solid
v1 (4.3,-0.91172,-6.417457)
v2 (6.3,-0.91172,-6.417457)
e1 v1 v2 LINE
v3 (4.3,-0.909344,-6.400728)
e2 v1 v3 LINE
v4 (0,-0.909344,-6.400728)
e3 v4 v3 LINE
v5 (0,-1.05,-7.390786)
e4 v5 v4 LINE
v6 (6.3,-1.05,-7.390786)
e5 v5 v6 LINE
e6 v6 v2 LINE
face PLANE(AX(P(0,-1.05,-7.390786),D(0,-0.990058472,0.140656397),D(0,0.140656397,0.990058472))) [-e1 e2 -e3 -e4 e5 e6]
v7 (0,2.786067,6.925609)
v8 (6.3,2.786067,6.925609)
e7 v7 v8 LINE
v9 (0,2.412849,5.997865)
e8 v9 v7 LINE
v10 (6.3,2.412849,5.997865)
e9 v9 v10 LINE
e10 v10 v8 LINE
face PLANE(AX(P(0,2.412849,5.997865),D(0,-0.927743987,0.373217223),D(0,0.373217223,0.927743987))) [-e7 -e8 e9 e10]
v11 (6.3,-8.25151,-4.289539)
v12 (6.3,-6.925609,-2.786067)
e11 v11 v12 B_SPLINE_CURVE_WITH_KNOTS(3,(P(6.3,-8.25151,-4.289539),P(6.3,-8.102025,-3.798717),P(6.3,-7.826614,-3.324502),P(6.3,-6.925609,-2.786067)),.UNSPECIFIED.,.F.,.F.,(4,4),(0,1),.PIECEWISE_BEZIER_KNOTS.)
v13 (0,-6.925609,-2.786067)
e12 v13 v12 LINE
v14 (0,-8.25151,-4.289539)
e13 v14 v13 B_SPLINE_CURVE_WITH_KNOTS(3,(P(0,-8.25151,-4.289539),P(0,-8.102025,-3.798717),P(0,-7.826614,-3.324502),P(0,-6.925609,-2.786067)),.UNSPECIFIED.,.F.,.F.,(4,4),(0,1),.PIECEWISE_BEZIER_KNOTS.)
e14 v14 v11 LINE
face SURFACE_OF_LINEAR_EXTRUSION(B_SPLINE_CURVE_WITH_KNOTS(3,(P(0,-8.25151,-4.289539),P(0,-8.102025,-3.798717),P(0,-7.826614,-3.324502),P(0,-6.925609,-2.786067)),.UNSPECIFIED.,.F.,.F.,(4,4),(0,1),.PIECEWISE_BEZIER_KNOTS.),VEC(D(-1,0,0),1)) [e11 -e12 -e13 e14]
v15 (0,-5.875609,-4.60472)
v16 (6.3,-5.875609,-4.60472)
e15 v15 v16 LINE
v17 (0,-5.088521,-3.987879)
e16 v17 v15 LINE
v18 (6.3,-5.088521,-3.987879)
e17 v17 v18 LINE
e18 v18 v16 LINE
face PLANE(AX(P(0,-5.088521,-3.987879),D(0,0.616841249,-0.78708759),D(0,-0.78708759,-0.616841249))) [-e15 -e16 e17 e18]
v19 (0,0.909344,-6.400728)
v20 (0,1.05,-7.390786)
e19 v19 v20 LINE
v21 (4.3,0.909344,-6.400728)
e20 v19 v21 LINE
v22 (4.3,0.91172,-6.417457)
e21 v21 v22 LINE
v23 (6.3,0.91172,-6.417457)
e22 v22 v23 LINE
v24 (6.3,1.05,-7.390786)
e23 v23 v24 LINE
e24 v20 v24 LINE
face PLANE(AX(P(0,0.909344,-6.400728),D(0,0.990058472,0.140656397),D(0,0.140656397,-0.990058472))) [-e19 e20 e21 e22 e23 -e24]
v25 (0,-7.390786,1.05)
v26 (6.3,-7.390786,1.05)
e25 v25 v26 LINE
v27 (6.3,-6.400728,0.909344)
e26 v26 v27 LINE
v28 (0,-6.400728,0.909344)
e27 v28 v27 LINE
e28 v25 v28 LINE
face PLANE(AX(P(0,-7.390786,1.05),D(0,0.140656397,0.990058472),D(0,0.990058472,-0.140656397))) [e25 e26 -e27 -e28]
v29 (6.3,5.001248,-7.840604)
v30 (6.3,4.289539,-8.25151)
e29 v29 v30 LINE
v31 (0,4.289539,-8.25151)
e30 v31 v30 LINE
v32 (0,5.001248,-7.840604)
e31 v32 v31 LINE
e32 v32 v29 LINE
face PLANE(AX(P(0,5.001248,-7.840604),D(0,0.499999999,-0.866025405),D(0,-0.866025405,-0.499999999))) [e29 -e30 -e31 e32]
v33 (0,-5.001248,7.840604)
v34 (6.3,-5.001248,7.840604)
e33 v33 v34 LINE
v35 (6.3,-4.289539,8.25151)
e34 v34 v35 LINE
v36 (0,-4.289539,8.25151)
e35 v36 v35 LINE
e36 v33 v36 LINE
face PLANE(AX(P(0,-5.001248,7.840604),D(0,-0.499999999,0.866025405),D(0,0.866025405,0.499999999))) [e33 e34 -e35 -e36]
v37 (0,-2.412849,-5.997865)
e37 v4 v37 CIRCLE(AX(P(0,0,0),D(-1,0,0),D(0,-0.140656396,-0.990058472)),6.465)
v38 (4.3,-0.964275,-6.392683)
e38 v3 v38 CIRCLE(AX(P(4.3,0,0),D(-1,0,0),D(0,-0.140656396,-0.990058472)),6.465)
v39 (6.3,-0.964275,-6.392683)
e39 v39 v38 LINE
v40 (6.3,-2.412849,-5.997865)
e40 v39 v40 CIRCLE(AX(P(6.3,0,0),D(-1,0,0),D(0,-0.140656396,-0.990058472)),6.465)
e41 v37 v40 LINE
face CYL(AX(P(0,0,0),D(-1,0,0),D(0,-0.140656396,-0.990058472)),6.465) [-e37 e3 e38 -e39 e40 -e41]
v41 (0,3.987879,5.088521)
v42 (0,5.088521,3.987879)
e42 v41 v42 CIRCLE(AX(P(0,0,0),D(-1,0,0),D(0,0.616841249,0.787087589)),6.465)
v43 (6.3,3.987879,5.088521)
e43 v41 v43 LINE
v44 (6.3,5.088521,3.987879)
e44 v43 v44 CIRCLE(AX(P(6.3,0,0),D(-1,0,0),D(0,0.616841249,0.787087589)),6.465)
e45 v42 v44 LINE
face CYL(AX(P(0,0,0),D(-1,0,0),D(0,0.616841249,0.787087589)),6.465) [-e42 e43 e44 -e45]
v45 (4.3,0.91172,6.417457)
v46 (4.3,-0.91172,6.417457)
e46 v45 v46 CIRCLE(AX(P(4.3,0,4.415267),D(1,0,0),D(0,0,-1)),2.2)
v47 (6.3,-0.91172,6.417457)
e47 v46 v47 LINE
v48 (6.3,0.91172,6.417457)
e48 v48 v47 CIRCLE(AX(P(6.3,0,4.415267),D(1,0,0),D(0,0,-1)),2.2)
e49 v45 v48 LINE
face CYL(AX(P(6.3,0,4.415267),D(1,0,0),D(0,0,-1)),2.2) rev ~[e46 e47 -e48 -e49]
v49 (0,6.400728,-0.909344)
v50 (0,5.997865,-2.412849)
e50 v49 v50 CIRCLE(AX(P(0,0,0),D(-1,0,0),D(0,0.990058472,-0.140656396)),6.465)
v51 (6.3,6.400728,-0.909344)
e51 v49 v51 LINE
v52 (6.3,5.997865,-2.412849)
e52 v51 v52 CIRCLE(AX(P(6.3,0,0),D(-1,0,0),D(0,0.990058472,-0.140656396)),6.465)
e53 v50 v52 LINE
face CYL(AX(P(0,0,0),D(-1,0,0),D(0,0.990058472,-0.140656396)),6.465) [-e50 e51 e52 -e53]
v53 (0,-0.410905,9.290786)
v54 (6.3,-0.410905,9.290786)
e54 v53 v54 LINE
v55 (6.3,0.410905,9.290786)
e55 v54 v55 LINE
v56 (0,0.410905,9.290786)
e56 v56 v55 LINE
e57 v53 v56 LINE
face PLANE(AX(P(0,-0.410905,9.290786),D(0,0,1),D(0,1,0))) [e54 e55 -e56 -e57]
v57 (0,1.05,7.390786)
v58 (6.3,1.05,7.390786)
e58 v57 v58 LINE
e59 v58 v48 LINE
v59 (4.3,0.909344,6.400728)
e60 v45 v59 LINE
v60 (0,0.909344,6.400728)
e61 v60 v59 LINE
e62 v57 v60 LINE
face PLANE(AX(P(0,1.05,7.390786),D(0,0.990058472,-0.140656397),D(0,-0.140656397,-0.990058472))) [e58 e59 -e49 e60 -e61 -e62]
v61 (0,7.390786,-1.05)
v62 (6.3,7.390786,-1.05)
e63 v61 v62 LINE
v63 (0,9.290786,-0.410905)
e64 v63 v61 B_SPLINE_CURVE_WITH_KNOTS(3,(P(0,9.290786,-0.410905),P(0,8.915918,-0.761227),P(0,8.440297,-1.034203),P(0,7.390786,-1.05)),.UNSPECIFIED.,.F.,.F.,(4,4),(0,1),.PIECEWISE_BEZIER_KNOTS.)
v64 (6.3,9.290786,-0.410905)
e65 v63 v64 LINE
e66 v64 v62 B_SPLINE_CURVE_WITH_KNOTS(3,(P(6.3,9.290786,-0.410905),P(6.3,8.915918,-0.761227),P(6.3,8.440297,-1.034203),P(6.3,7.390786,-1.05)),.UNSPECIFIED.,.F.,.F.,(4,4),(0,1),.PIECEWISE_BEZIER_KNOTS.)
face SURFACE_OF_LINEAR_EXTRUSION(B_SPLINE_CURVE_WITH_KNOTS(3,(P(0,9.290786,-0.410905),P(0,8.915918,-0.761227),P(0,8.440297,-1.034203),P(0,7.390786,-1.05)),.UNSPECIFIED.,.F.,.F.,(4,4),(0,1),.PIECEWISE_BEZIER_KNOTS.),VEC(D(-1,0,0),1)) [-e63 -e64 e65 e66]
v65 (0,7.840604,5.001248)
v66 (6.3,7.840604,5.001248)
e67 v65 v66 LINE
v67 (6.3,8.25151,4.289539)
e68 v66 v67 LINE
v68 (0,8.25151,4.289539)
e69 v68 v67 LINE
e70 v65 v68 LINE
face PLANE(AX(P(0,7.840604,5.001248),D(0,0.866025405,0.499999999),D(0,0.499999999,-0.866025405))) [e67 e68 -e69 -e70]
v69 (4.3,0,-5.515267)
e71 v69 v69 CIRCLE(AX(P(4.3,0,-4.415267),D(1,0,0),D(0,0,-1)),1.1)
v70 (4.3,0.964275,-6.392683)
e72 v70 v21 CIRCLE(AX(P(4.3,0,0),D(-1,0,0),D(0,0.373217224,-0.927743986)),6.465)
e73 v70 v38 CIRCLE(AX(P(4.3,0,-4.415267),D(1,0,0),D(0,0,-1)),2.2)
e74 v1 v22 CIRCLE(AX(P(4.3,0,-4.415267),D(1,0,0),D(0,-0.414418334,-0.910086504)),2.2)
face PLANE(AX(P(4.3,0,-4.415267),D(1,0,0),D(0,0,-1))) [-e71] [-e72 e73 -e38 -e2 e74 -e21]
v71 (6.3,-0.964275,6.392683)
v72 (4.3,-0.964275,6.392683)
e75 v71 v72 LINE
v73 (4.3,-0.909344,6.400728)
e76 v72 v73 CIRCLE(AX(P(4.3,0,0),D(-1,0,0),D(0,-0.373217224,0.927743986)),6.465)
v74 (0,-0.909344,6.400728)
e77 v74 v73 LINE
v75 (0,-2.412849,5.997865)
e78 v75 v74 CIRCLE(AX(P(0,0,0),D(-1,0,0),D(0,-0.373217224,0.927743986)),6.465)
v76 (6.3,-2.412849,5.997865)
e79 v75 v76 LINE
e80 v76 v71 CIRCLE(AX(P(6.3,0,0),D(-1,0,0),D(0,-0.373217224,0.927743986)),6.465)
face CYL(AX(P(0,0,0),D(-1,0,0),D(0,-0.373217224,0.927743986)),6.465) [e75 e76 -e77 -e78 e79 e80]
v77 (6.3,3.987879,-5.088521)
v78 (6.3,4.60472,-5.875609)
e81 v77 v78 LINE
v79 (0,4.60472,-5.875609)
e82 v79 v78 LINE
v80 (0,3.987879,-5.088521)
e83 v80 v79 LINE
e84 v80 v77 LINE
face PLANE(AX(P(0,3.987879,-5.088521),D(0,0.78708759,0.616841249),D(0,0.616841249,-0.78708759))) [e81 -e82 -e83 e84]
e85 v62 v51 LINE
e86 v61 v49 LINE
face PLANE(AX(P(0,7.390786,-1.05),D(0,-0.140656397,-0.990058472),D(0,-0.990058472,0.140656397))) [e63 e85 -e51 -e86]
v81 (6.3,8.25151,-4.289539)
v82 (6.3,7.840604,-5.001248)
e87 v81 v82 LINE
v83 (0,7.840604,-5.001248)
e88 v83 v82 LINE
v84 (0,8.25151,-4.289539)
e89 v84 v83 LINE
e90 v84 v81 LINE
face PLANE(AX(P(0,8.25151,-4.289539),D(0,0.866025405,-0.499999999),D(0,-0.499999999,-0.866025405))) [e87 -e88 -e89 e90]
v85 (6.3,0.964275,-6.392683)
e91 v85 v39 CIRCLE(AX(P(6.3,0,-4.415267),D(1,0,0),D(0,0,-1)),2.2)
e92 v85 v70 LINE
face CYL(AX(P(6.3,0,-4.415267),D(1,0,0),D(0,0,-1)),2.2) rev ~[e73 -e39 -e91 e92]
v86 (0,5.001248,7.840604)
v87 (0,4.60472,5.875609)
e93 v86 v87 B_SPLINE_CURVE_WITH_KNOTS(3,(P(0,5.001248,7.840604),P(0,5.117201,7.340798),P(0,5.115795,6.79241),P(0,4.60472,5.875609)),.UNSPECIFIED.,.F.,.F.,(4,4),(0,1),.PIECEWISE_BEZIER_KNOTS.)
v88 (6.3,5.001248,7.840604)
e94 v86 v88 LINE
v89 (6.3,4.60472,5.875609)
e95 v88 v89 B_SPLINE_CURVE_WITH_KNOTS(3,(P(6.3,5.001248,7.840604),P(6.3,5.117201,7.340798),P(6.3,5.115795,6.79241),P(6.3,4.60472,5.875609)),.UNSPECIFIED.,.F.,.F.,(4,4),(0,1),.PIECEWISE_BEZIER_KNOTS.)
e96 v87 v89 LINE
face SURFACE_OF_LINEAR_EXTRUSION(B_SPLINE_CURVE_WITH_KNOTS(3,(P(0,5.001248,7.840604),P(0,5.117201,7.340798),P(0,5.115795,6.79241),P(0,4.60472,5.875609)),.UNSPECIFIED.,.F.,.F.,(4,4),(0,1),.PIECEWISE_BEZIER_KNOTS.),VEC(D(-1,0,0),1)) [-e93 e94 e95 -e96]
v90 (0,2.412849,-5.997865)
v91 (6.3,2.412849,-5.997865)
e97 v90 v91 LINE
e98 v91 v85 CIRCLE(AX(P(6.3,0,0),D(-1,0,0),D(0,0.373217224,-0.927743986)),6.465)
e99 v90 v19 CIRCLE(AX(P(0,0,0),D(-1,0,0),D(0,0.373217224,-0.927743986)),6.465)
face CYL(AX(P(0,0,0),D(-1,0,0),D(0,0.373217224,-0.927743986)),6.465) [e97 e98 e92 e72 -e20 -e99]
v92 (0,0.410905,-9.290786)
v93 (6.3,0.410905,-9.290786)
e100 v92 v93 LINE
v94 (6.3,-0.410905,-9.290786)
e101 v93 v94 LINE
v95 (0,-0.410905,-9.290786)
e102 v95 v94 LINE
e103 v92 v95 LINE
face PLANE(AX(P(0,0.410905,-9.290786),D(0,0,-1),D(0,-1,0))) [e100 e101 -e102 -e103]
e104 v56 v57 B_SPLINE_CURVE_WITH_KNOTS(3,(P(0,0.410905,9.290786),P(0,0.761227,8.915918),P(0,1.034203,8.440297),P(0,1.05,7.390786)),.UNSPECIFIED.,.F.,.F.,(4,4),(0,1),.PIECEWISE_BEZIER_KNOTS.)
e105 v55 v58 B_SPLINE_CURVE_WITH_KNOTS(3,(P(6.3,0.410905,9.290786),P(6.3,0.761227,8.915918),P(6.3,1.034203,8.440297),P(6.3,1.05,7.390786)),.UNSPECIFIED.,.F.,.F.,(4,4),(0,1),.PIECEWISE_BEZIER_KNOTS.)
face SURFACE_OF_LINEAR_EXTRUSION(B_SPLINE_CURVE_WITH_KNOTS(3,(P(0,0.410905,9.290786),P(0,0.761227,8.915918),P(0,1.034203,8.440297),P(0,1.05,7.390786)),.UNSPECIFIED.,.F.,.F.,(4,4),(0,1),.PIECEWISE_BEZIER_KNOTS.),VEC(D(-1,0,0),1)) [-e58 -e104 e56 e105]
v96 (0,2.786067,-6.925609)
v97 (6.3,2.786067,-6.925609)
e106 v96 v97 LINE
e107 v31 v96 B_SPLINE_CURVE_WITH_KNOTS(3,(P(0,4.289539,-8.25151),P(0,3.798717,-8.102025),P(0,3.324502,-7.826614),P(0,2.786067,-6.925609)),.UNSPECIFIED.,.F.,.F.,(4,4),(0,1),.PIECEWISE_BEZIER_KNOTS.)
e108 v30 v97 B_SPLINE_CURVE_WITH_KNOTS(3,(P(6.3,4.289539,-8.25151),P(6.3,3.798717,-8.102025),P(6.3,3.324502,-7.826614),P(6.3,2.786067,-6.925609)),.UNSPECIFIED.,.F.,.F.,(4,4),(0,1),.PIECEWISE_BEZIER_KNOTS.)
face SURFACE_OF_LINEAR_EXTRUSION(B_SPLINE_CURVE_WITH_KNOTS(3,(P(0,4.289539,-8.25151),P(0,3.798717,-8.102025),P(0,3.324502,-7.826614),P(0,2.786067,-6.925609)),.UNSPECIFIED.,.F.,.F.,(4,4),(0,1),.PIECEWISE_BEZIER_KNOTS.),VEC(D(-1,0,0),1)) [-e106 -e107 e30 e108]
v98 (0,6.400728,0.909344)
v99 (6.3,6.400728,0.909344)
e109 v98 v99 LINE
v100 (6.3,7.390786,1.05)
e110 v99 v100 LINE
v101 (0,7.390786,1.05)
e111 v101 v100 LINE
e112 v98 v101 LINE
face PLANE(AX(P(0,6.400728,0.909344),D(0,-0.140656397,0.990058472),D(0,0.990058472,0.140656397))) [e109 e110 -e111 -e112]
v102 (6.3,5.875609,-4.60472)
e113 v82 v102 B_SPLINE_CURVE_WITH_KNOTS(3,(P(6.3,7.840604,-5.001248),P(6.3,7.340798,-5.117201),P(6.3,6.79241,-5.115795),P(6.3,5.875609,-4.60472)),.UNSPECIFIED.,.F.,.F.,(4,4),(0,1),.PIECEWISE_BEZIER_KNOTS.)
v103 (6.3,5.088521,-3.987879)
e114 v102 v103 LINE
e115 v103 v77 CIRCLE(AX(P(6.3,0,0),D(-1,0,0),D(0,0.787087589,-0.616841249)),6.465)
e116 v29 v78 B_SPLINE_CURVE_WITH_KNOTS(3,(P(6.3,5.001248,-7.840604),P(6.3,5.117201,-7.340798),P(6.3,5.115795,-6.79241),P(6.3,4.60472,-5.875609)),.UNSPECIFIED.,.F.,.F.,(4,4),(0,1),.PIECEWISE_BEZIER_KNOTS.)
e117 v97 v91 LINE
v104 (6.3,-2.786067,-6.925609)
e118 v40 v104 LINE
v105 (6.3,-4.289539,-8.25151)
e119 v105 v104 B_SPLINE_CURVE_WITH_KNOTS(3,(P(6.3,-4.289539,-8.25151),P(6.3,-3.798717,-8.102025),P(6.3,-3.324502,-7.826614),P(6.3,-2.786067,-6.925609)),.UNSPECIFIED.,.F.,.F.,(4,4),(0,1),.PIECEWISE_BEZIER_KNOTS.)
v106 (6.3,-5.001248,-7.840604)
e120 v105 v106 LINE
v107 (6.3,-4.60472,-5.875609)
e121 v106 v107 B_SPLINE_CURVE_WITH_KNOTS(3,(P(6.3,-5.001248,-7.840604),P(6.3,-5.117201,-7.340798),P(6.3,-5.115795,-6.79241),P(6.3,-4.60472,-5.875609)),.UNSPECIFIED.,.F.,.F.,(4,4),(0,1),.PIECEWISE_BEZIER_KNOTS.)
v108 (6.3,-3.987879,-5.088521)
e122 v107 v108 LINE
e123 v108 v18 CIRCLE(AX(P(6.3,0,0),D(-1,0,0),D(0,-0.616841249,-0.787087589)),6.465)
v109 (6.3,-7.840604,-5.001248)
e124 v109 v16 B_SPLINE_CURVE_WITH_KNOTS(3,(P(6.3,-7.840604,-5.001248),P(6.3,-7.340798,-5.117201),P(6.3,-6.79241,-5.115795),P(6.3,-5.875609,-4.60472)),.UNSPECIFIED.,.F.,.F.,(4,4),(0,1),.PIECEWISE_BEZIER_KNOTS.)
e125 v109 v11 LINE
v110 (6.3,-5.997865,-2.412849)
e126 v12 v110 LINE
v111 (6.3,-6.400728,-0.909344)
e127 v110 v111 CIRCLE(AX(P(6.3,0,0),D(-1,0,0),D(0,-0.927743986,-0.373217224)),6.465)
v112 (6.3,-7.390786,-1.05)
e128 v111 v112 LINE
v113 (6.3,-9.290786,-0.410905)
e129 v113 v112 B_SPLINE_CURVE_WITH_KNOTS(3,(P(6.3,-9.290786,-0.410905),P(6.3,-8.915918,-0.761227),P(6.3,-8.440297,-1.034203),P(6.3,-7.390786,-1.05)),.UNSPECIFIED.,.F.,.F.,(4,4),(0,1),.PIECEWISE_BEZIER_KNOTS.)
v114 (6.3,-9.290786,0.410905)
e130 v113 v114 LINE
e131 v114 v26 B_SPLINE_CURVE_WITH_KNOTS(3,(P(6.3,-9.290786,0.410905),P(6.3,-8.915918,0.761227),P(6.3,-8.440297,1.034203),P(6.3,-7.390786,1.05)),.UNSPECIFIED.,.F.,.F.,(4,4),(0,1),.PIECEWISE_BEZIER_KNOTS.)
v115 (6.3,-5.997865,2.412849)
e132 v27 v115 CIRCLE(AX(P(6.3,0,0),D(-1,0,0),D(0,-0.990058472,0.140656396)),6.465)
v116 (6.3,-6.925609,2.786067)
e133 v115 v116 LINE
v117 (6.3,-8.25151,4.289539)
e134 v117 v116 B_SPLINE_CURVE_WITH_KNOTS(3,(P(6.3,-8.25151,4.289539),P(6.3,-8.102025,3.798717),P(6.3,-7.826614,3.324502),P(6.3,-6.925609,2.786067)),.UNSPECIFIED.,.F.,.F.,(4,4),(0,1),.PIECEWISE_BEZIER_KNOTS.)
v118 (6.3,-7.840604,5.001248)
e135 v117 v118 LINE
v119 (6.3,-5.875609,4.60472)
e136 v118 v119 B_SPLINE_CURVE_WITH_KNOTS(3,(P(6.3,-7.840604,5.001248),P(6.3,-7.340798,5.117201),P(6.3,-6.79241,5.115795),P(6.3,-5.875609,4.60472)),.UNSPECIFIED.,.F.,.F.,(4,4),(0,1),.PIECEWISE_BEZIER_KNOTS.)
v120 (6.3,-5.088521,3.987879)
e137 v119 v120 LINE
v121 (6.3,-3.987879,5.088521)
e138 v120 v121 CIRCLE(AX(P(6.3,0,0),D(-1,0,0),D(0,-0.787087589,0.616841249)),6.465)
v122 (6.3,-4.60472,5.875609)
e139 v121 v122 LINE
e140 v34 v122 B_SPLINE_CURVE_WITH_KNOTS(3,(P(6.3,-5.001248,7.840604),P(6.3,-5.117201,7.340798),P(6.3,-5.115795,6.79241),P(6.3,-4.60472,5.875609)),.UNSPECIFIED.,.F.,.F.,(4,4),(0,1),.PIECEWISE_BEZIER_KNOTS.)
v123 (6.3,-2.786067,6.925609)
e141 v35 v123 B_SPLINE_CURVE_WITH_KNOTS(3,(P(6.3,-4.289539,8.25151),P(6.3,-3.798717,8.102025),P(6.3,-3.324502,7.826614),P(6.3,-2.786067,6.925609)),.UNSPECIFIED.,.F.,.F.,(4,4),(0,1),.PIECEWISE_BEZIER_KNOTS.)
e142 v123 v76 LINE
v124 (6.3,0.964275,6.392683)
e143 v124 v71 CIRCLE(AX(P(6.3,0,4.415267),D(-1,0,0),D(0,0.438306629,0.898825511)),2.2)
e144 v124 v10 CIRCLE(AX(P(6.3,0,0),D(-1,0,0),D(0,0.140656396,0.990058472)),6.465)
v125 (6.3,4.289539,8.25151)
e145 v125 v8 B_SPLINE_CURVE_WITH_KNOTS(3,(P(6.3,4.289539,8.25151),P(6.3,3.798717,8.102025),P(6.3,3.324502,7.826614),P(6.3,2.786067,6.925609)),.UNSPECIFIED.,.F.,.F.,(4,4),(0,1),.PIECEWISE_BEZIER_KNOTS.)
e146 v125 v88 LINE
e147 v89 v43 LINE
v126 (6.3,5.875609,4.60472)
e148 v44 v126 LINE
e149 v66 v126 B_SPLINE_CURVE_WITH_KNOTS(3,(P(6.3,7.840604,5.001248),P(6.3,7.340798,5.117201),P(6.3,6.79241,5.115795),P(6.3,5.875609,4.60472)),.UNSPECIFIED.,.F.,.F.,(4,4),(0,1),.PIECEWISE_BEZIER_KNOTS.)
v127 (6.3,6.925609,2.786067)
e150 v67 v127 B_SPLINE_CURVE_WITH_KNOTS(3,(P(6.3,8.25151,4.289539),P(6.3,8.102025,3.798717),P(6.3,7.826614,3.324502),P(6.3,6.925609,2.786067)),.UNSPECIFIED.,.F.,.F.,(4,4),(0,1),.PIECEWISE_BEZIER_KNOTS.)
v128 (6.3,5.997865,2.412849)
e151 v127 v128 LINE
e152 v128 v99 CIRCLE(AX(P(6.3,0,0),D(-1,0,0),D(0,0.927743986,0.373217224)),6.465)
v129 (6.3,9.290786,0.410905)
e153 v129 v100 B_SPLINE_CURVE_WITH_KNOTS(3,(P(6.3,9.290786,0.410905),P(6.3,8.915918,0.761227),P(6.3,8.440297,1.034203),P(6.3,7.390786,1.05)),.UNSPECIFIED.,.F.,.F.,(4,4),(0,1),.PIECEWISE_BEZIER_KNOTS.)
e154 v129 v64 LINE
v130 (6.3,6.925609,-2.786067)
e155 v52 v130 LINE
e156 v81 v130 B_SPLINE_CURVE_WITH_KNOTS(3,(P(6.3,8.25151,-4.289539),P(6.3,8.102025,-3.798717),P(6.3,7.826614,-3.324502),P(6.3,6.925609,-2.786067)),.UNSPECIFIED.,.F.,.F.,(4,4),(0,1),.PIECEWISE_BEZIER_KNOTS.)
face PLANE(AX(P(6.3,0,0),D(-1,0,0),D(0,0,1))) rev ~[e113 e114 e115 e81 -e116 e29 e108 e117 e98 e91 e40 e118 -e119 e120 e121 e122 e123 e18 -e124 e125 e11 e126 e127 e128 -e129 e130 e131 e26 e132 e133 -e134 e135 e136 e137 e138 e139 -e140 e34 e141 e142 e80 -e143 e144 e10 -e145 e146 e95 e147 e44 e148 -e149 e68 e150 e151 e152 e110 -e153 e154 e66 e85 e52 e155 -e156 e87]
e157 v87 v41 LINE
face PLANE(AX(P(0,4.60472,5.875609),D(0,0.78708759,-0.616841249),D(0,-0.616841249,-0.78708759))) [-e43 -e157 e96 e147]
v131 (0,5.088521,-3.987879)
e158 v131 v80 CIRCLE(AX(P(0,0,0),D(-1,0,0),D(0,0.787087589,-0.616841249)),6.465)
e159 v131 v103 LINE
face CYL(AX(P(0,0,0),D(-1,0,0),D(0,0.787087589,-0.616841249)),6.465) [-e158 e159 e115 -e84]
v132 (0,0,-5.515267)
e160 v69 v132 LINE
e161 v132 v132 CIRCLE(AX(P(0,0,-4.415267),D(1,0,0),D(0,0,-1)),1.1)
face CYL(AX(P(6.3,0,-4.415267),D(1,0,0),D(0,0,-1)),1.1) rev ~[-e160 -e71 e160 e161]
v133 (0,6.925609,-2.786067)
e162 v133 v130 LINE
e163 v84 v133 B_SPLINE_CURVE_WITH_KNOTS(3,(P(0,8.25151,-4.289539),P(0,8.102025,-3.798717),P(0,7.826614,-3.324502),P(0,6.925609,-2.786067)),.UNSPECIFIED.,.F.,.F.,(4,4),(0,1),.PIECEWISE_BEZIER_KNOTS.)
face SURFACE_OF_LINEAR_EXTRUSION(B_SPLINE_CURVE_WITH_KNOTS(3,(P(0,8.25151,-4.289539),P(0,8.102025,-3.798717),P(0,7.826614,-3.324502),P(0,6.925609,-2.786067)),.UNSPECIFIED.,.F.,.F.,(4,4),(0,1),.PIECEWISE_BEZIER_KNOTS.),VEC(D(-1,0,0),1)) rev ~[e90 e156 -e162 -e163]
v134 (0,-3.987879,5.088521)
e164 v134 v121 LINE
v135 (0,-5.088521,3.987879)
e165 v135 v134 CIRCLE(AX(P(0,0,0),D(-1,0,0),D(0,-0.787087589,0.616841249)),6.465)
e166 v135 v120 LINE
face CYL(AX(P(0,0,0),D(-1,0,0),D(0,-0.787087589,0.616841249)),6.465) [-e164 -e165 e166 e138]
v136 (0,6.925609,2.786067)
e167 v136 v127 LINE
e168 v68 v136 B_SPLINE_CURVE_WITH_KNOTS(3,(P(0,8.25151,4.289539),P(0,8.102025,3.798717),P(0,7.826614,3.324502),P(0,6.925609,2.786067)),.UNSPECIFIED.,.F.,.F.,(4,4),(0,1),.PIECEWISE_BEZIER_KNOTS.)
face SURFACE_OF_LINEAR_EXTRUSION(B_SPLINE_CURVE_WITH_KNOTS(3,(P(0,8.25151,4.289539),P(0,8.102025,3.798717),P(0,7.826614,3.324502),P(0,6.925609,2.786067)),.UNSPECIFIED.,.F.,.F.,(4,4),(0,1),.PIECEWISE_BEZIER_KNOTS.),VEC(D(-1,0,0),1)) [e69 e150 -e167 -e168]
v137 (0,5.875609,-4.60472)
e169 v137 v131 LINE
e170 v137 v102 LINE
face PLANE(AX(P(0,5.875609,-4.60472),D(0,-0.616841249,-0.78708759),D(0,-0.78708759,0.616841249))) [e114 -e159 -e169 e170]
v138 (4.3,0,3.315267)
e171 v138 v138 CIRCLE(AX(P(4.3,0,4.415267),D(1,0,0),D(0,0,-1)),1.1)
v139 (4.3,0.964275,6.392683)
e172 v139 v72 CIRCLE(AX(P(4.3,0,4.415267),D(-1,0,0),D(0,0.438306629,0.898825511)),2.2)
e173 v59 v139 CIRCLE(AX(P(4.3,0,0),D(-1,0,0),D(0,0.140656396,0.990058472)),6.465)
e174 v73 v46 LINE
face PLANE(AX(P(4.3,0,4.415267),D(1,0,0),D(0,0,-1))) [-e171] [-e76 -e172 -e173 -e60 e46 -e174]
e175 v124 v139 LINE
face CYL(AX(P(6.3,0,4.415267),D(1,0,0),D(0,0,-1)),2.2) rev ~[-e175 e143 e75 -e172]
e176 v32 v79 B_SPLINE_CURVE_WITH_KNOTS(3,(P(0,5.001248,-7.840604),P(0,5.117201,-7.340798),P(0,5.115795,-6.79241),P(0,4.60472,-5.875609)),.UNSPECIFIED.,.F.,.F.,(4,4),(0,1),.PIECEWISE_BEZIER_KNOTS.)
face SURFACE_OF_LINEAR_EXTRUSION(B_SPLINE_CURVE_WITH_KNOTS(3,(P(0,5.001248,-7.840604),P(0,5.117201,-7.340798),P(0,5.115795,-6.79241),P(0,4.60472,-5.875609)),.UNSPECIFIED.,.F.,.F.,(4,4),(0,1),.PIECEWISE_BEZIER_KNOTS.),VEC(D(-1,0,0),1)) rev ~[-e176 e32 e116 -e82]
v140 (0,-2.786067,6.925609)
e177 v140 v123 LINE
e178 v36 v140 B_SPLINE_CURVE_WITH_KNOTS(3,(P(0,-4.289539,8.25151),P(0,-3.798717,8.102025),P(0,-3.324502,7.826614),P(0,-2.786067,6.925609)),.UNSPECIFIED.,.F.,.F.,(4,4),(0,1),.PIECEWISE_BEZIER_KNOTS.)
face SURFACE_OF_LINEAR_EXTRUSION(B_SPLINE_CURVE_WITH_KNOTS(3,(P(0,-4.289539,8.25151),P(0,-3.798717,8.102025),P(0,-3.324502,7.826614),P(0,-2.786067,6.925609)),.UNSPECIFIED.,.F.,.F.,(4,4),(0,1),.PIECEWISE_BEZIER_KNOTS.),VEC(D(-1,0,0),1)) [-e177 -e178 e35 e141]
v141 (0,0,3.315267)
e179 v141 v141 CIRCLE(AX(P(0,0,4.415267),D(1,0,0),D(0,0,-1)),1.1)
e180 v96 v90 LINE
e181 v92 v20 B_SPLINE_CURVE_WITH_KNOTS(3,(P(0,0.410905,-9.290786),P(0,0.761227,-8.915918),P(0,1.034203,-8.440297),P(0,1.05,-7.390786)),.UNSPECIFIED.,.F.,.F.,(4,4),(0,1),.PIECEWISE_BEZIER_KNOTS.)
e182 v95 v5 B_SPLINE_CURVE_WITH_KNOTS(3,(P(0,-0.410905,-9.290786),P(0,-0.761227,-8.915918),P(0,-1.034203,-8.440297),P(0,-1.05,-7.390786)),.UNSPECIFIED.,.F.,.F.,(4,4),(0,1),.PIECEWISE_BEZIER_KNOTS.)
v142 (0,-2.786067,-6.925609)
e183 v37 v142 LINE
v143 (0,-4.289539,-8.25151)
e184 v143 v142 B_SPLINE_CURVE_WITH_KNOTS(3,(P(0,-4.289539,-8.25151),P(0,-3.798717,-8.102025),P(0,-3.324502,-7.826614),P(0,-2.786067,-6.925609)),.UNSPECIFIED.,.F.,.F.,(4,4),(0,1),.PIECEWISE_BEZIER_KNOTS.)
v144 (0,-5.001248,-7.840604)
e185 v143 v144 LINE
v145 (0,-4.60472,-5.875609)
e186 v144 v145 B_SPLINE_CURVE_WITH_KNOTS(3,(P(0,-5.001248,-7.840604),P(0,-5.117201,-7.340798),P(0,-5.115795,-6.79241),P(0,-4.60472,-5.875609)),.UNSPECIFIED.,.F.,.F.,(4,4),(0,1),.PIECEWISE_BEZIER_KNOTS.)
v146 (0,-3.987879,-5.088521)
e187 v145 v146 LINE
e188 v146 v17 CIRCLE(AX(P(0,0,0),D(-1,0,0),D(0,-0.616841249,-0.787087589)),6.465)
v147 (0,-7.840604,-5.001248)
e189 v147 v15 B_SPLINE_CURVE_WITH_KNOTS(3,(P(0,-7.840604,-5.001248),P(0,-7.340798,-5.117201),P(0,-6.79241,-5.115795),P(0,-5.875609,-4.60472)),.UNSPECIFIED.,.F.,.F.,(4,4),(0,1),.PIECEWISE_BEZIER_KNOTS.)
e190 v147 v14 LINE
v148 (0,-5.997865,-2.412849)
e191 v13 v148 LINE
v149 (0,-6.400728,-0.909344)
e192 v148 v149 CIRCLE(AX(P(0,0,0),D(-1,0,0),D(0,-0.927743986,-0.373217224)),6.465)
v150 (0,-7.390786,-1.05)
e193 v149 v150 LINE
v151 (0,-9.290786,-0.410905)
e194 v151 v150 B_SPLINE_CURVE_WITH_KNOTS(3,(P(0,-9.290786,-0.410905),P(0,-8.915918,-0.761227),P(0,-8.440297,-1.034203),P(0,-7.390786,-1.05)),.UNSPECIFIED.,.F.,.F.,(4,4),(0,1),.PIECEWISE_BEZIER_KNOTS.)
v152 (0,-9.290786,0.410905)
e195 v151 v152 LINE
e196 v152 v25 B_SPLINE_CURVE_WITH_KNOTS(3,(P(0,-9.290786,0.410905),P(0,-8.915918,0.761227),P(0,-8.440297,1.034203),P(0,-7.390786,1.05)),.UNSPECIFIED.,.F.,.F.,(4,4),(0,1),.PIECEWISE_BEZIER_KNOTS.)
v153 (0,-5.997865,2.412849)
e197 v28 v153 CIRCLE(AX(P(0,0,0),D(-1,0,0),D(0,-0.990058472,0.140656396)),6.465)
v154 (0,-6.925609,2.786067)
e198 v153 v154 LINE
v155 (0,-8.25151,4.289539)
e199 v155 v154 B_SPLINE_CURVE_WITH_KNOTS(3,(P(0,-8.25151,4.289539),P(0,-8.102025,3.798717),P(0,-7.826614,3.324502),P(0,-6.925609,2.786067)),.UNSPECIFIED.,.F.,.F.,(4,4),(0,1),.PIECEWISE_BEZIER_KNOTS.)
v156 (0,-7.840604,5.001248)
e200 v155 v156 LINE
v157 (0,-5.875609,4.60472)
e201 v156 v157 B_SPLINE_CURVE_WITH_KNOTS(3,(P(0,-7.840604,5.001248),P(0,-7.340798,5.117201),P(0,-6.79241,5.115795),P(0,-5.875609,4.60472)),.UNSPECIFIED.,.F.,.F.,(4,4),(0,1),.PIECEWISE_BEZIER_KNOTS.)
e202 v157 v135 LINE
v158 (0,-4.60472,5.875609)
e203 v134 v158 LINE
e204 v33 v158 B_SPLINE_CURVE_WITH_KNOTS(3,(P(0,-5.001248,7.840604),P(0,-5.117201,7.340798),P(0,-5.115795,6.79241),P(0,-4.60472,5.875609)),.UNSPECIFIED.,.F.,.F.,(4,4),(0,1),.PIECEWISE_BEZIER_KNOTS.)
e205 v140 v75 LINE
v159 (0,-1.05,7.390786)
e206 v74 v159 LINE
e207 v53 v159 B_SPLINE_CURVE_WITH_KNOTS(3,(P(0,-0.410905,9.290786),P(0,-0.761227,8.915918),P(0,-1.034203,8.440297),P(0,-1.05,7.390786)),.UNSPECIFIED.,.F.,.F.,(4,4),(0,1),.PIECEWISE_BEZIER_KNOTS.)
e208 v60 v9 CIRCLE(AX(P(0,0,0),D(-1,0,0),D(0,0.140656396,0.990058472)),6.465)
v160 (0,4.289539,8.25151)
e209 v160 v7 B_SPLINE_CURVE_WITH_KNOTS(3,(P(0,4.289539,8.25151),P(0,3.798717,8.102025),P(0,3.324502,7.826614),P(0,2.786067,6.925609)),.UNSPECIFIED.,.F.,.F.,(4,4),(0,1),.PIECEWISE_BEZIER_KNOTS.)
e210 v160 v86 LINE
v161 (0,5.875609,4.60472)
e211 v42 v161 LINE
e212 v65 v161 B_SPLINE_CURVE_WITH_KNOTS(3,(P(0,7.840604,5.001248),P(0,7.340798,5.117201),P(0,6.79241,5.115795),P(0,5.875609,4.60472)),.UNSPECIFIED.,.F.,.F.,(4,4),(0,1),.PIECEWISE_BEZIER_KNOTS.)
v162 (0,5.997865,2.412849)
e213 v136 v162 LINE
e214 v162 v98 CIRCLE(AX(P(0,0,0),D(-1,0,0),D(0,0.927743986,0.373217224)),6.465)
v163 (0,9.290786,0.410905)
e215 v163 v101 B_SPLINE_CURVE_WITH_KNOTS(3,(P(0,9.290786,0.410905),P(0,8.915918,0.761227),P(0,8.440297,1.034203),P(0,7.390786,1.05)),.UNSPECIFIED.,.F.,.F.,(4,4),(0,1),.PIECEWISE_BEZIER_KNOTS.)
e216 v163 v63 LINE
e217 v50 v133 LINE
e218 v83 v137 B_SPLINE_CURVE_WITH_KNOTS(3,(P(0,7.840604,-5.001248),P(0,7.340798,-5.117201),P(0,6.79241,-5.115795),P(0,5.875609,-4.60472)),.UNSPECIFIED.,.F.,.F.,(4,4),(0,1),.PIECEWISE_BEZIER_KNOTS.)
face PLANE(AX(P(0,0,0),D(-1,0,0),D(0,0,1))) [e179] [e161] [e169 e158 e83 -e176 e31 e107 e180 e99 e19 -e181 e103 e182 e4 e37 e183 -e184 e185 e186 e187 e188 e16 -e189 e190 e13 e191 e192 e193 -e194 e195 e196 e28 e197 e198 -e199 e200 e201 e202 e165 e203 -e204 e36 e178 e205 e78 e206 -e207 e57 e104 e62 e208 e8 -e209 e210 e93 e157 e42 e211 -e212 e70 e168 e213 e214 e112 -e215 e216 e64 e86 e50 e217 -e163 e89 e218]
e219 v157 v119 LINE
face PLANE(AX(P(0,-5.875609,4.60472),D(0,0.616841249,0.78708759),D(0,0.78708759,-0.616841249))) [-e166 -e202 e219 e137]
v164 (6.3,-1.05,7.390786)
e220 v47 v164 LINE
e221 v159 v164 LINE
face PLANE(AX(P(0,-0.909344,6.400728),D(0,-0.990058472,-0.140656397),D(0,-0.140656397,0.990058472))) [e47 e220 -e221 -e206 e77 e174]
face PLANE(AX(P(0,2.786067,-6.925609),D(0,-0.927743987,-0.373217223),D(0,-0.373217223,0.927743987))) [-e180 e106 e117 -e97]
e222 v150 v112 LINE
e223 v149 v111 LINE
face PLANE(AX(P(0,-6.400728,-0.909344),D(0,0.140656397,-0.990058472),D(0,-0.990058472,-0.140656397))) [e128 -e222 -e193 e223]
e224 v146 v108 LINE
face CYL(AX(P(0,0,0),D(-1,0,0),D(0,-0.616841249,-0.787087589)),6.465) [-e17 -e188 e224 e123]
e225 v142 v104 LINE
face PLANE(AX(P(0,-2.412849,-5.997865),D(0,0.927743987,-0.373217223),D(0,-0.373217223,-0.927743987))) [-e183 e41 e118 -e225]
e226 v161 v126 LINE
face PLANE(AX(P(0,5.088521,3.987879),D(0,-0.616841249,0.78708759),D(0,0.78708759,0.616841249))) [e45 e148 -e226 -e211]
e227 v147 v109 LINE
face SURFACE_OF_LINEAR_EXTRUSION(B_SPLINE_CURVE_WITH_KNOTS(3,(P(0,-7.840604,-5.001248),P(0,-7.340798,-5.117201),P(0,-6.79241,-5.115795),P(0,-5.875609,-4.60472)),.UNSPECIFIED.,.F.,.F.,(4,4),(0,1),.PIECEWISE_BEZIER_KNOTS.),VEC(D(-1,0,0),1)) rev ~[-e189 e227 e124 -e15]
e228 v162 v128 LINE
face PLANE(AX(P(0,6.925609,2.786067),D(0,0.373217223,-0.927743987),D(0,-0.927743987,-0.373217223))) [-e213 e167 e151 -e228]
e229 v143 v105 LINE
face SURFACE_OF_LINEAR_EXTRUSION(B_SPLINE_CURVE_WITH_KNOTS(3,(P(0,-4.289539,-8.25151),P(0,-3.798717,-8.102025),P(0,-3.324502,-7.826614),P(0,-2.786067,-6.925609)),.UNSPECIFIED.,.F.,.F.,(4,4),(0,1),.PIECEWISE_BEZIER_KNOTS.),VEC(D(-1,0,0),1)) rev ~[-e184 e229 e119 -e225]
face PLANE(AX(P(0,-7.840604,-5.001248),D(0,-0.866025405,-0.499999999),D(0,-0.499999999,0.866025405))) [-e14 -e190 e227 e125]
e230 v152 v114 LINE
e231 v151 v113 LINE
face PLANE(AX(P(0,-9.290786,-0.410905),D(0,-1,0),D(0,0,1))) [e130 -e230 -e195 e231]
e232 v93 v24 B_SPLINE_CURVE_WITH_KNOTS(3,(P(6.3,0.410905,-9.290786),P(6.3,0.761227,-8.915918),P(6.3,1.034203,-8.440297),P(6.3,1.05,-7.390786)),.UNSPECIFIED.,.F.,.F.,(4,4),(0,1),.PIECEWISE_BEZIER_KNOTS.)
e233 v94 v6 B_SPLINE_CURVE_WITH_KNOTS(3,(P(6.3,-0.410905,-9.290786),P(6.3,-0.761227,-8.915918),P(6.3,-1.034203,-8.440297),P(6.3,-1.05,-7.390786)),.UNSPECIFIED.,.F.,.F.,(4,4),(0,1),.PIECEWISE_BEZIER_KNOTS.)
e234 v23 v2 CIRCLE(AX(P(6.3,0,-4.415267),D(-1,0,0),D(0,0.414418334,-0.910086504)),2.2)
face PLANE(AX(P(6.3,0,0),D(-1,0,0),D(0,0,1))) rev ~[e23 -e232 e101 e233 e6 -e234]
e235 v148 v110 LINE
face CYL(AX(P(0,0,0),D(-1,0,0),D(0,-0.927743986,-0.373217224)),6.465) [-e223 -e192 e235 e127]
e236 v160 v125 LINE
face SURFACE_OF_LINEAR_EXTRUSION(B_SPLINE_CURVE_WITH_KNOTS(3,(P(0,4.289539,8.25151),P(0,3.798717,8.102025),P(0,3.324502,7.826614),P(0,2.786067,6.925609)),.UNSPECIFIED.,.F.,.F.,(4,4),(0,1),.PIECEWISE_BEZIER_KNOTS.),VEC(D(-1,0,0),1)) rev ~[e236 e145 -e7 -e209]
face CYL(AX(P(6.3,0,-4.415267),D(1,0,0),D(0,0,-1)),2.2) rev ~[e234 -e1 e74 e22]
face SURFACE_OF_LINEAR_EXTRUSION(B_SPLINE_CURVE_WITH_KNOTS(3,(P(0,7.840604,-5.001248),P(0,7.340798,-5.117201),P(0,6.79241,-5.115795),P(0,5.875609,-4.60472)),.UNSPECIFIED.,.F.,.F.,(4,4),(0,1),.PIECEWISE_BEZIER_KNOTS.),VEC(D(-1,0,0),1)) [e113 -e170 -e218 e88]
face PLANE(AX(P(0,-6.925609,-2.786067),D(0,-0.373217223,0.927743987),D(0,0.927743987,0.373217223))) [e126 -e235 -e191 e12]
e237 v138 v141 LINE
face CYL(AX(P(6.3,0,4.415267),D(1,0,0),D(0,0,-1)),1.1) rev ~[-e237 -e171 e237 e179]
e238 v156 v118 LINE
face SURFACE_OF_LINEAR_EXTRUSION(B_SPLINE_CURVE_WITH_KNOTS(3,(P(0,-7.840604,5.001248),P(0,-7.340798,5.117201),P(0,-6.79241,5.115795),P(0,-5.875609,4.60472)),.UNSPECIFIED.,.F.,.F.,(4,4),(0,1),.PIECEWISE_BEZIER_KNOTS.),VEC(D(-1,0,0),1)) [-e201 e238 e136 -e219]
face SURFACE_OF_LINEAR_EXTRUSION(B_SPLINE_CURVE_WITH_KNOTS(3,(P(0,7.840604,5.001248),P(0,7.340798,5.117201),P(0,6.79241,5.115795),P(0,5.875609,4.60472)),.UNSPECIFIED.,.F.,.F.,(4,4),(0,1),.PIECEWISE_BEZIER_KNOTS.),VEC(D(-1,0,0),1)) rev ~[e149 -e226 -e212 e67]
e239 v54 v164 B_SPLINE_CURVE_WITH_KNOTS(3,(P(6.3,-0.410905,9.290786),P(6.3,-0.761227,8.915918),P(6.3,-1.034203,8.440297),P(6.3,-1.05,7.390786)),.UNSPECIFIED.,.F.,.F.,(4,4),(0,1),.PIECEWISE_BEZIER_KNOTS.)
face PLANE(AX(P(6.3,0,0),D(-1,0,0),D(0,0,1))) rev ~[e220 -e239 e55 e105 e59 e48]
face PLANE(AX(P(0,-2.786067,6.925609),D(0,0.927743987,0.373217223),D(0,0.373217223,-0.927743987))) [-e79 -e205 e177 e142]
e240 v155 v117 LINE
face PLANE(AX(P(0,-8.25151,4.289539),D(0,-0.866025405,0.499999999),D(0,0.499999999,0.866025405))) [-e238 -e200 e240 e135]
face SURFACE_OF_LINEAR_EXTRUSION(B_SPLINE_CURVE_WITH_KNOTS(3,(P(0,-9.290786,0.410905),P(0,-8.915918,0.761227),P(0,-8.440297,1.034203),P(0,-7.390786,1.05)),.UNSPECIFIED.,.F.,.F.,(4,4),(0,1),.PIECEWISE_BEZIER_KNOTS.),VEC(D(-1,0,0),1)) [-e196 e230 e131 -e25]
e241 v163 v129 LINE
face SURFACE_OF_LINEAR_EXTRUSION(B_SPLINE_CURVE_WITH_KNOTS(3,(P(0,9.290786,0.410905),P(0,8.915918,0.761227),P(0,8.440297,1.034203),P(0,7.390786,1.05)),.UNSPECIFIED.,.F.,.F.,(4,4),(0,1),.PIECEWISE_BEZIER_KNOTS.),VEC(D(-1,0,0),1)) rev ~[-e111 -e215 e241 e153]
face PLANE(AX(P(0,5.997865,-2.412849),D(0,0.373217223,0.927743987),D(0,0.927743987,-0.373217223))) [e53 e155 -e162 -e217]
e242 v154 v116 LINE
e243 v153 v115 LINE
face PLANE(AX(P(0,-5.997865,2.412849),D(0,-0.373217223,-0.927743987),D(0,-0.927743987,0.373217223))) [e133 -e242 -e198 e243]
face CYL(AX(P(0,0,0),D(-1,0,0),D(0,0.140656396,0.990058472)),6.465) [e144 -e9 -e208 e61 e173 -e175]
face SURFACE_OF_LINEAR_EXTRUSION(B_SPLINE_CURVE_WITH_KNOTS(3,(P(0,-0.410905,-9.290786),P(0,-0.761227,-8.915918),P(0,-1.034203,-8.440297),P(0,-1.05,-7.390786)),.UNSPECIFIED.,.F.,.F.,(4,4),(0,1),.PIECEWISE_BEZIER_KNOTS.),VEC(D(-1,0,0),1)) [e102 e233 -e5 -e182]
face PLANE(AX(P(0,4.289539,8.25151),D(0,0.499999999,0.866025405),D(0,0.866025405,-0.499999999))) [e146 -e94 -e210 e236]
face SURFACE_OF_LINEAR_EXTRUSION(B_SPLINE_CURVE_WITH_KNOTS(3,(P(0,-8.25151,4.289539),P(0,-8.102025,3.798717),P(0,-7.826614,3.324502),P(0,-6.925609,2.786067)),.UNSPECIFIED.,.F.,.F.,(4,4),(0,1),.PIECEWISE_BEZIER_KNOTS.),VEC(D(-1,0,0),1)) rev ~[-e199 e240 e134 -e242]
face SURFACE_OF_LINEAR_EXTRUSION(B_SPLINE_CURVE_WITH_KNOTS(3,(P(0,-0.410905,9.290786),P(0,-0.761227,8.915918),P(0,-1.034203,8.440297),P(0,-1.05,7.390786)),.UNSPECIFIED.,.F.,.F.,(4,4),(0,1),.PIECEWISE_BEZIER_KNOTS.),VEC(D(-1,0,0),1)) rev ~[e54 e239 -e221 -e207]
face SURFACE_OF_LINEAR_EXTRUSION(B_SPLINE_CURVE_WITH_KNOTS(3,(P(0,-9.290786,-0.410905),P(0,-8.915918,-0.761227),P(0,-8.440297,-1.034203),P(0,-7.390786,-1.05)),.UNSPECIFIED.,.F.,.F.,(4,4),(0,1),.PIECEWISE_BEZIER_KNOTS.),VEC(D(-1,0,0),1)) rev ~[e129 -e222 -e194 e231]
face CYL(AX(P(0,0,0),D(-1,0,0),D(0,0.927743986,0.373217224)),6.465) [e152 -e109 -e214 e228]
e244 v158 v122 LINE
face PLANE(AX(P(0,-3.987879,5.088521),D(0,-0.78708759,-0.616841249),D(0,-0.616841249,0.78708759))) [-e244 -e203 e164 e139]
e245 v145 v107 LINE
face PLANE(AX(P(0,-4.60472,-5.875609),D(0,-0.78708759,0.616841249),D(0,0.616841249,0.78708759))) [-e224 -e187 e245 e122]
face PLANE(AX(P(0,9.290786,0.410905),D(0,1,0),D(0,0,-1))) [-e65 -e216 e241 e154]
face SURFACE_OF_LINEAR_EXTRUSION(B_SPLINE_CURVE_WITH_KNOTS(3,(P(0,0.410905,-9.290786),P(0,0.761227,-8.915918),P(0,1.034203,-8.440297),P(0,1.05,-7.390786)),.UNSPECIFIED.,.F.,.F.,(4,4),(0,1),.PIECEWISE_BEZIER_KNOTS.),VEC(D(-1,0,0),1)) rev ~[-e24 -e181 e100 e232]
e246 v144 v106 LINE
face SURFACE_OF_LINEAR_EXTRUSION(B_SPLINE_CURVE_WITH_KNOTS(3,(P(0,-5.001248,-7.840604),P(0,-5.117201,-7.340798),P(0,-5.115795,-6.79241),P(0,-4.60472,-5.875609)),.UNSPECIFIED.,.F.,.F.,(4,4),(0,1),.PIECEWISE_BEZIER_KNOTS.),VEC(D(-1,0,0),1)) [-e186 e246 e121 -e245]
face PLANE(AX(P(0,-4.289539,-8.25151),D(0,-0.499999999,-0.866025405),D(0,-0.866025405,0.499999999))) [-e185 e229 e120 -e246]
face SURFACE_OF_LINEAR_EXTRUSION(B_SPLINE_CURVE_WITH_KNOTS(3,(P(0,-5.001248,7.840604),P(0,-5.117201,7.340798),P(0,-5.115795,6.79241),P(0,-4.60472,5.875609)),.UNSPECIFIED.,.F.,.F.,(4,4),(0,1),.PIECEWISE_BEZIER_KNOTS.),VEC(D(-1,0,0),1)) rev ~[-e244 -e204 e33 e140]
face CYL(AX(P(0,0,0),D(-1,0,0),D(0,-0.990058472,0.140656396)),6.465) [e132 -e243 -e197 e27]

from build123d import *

# Parameters (mm, degrees)
BOSS_EXTRUDE1_DEPTH = 6.3
SKETCH2_R           = 1.1
CUT_EXTRUDE1_DEPTH  = 7.3000001
SKETCH3_R           = 2.2
CUT_EXTRUDE2_DEPTH  = 2


with BuildPart() as part:
    # Sketch1 → Boss-Extrude1 (new body)
    with BuildSketch(Plane(origin=(0, 0, 0), x_dir=(0, 0, -1), z_dir=(1, 0, 0))):
        with BuildLine():
            Line((-0.909343603, 6.400728022), (-1.05, 7.390786494))
            add(Edge.make_bspline(
                [(-0.410905417, 9.290786494), (-0.761226832, 8.915917898), (-1.03420339, 8.440297341), (-1.05, 7.390786494)],
                knots=[0, 0, 0, 0, 1, 1, 1, 1], degree=3))
            Line((-0.410905417, 9.290786494), (0.410905417, 9.290786494))
            add(Edge.make_bspline(
                [(0.410905417, 9.290786494), (0.761226832, 8.915917898), (1.03420339, 8.440297341), (1.05, 7.390786494)],
                knots=[0, 0, 0, 0, 1, 1, 1, 1], degree=3))
            Line((1.05, 7.390786494), (0.909343603, 6.400728022))
            ThreePointArc((0.909343603, 6.400728022), (1.673265127, 6.244710467), (2.41284935, 5.997864871))
            Line((2.41284935, 5.997864871), (2.786066573, 6.925608858))
            add(Edge.make_bspline(
                [(4.289538717, 8.251509833), (3.798717175, 8.102024814), (3.324502262, 7.826613608), (2.786066573, 6.925608858)],
                knots=[0, 0, 0, 0, 1, 1, 1, 1], degree=3))
            Line((4.289538717, 8.251509833), (5.001247777, 7.840604417))
            add(Edge.make_bspline(
                [(5.001247777, 7.840604417), (5.117200723, 7.340797982), (5.115795079, 6.792410217), (4.604719921, 5.875608858)],
                knots=[0, 0, 0, 0, 1, 1, 1, 1], degree=3))
            Line((4.604719921, 5.875608858), (3.987878672, 5.088521268))
            ThreePointArc((3.987878672, 5.088521268), (4.57144534, 4.57144534), (5.088521268, 3.987878672))
            Line((5.088521268, 3.987878672), (5.875608858, 4.604719921))
            add(Edge.make_bspline(
                [(7.840604417, 5.001247777), (7.340797982, 5.117200723), (6.792410217, 5.115795079), (5.875608858, 4.604719921)],
                knots=[0, 0, 0, 0, 1, 1, 1, 1], degree=3))
            Line((7.840604417, 5.001247777), (8.251509833, 4.289538717))
            add(Edge.make_bspline(
                [(8.251509833, 4.289538717), (8.102024814, 3.798717175), (7.826613608, 3.324502262), (6.925608858, 2.786066573)],
                knots=[0, 0, 0, 0, 1, 1, 1, 1], degree=3))
            Line((6.925608858, 2.786066573), (5.997864871, 2.41284935))
            ThreePointArc((5.997864871, 2.41284935), (6.244710467, 1.673265127), (6.400728022, 0.909343603))
            Line((6.400728022, 0.909343603), (7.390786494, 1.05))
            add(Edge.make_bspline(
                [(9.290786494, 0.410905417), (8.915917898, 0.761226832), (8.440297341, 1.03420339), (7.390786494, 1.05)],
                knots=[0, 0, 0, 0, 1, 1, 1, 1], degree=3))
            Line((9.290786494, 0.410905417), (9.290786494, -0.410905417))
            add(Edge.make_bspline(
                [(9.290786494, -0.410905417), (8.915917898, -0.761226832), (8.440297341, -1.03420339), (7.390786494, -1.05)],
                knots=[0, 0, 0, 0, 1, 1, 1, 1], degree=3))
            Line((7.390786494, -1.05), (6.400728022, -0.909343603))
            ThreePointArc((6.400728022, -0.909343603), (6.244710467, -1.673265127), (5.997864871, -2.41284935))
            Line((5.997864871, -2.41284935), (6.925608858, -2.786066573))
            add(Edge.make_bspline(
                [(8.251509833, -4.289538717), (8.102024814, -3.798717175), (7.826613608, -3.324502262), (6.925608858, -2.786066573)],
                knots=[0, 0, 0, 0, 1, 1, 1, 1], degree=3))
            Line((8.251509833, -4.289538717), (7.840604417, -5.001247777))
            add(Edge.make_bspline(
                [(7.840604417, -5.001247777), (7.340797982, -5.117200723), (6.792410217, -5.115795079), (5.875608858, -4.604719921)],
                knots=[0, 0, 0, 0, 1, 1, 1, 1], degree=3))
            Line((5.875608858, -4.604719921), (5.088521268, -3.987878672))
            ThreePointArc((5.088521268, -3.987878672), (4.57144534, -4.57144534), (3.987878672, -5.088521268))
            Line((3.987878672, -5.088521268), (4.604719921, -5.875608858))
            add(Edge.make_bspline(
                [(5.001247777, -7.840604417), (5.117200723, -7.340797982), (5.115795079, -6.792410217), (4.604719921, -5.875608858)],
                knots=[0, 0, 0, 0, 1, 1, 1, 1], degree=3))
            Line((5.001247777, -7.840604417), (4.289538717, -8.251509833))
            add(Edge.make_bspline(
                [(4.289538717, -8.251509833), (3.798717175, -8.102024814), (3.324502262, -7.826613608), (2.786066573, -6.925608858)],
                knots=[0, 0, 0, 0, 1, 1, 1, 1], degree=3))
            Line((2.786066573, -6.925608858), (2.41284935, -5.997864871))
            ThreePointArc((2.41284935, -5.997864871), (1.673265127, -6.244710467), (0.909343603, -6.400728022))
            Line((0.909343603, -6.400728022), (1.05, -7.390786494))
            add(Edge.make_bspline(
                [(0.410905417, -9.290786494), (0.761226832, -8.915917898), (1.03420339, -8.440297341), (1.05, -7.390786494)],
                knots=[0, 0, 0, 0, 1, 1, 1, 1], degree=3))
            Line((0.410905417, -9.290786494), (-0.410905417, -9.290786494))
            add(Edge.make_bspline(
                [(-0.410905417, -9.290786494), (-0.761226832, -8.915917898), (-1.03420339, -8.440297341), (-1.05, -7.390786494)],
                knots=[0, 0, 0, 0, 1, 1, 1, 1], degree=3))
            Line((-1.05, -7.390786494), (-0.909343603, -6.400728022))
            ThreePointArc((-0.909343603, -6.400728022), (-1.673265127, -6.244710467), (-2.41284935, -5.997864871))
            Line((-2.41284935, -5.997864871), (-2.786066573, -6.925608858))
            add(Edge.make_bspline(
                [(-4.289538717, -8.251509833), (-3.798717175, -8.102024814), (-3.324502262, -7.826613608), (-2.786066573, -6.925608858)],
                knots=[0, 0, 0, 0, 1, 1, 1, 1], degree=3))
            Line((-4.289538717, -8.251509833), (-5.001247777, -7.840604417))
            add(Edge.make_bspline(
                [(-5.001247777, -7.840604417), (-5.117200723, -7.340797982), (-5.115795079, -6.792410217), (-4.604719921, -5.875608858)],
                knots=[0, 0, 0, 0, 1, 1, 1, 1], degree=3))
            Line((-4.604719921, -5.875608858), (-3.987878672, -5.088521268))
            ThreePointArc((-3.987878672, -5.088521268), (-4.57144534, -4.57144534), (-5.088521268, -3.987878672))
            Line((-5.088521268, -3.987878672), (-5.875608858, -4.604719921))
            add(Edge.make_bspline(
                [(-7.840604417, -5.001247777), (-7.340797982, -5.117200723), (-6.792410217, -5.115795079), (-5.875608858, -4.604719921)],
                knots=[0, 0, 0, 0, 1, 1, 1, 1], degree=3))
            Line((-7.840604417, -5.001247777), (-8.251509833, -4.289538717))
            add(Edge.make_bspline(
                [(-8.251509833, -4.289538717), (-8.102024814, -3.798717175), (-7.826613608, -3.324502262), (-6.925608858, -2.786066573)],
                knots=[0, 0, 0, 0, 1, 1, 1, 1], degree=3))
            Line((-6.925608858, -2.786066573), (-5.997864871, -2.41284935))
            ThreePointArc((-5.997864871, -2.41284935), (-6.244710467, -1.673265127), (-6.400728022, -0.909343603))
            Line((-6.400728022, -0.909343603), (-7.390786494, -1.05))
            add(Edge.make_bspline(
                [(-9.290786494, -0.410905417), (-8.915917898, -0.761226832), (-8.440297341, -1.03420339), (-7.390786494, -1.05)],
                knots=[0, 0, 0, 0, 1, 1, 1, 1], degree=3))
            Line((-9.290786494, -0.410905417), (-9.290786494, 0.410905417))
            add(Edge.make_bspline(
                [(-9.290786494, 0.410905417), (-8.915917898, 0.761226832), (-8.440297341, 1.03420339), (-7.390786494, 1.05)],
                knots=[0, 0, 0, 0, 1, 1, 1, 1], degree=3))
            Line((-7.390786494, 1.05), (-6.400728022, 0.909343603))
            ThreePointArc((-6.400728022, 0.909343603), (-6.244710467, 1.673265127), (-5.997864871, 2.41284935))
            Line((-5.997864871, 2.41284935), (-6.925608858, 2.786066573))
            add(Edge.make_bspline(
                [(-8.251509833, 4.289538717), (-8.102024814, 3.798717175), (-7.826613608, 3.324502262), (-6.925608858, 2.786066573)],
                knots=[0, 0, 0, 0, 1, 1, 1, 1], degree=3))
            Line((-8.251509833, 4.289538717), (-7.840604417, 5.001247777))
            add(Edge.make_bspline(
                [(-7.840604417, 5.001247777), (-7.340797982, 5.117200723), (-6.792410217, 5.115795079), (-5.875608858, 4.604719921)],
                knots=[0, 0, 0, 0, 1, 1, 1, 1], degree=3))
            Line((-5.875608858, 4.604719921), (-5.088521268, 3.987878672))
            ThreePointArc((-5.088521268, 3.987878672), (-4.57144534, 4.57144534), (-3.987878672, 5.088521268))
            Line((-3.987878672, 5.088521268), (-4.604719921, 5.875608858))
            add(Edge.make_bspline(
                [(-5.001247777, 7.840604417), (-5.117200723, 7.340797982), (-5.115795079, 6.792410217), (-4.604719921, 5.875608858)],
                knots=[0, 0, 0, 0, 1, 1, 1, 1], degree=3))
            Line((-5.001247777, 7.840604417), (-4.289538717, 8.251509833))
            add(Edge.make_bspline(
                [(-4.289538717, 8.251509833), (-3.798717175, 8.102024814), (-3.324502262, 7.826613608), (-2.786066573, 6.925608858)],
                knots=[0, 0, 0, 0, 1, 1, 1, 1], degree=3))
            Line((-2.786066573, 6.925608858), (-2.41284935, 5.997864871))
            ThreePointArc((-2.41284935, 5.997864871), (-1.673265127, 6.244710467), (-0.909343603, 6.400728022))
        make_face()
    extrude(amount=BOSS_EXTRUDE1_DEPTH)

    # Sketch2 → Cut-Extrude1 (cut, through all)
    with BuildSketch(Plane(origin=(6.3, 0, 0), x_dir=(0, 0, -1), z_dir=(1, 0, 0))):
        with Locations((4.415267157, 0)):
            Circle(SKETCH2_R)
        with Locations((-4.415267157, 0)):
            Circle(SKETCH2_R)
    extrude(amount=-CUT_EXTRUDE1_DEPTH, mode=Mode.SUBTRACT)

    # Sketch3 → Cut-Extrude2 (cut)
    with BuildSketch(Plane(origin=(6.3, 0, 0), x_dir=(0, 0, -1), z_dir=(1, 0, 0))):
        with Locations((-4.415267157, 0)):
            Circle(SKETCH3_R)
        with Locations((4.415267157, 0)):
            Circle(SKETCH3_R)
    extrude(amount=-CUT_EXTRUDE2_DEPTH, mode=Mode.SUBTRACT)


solid = part.part
